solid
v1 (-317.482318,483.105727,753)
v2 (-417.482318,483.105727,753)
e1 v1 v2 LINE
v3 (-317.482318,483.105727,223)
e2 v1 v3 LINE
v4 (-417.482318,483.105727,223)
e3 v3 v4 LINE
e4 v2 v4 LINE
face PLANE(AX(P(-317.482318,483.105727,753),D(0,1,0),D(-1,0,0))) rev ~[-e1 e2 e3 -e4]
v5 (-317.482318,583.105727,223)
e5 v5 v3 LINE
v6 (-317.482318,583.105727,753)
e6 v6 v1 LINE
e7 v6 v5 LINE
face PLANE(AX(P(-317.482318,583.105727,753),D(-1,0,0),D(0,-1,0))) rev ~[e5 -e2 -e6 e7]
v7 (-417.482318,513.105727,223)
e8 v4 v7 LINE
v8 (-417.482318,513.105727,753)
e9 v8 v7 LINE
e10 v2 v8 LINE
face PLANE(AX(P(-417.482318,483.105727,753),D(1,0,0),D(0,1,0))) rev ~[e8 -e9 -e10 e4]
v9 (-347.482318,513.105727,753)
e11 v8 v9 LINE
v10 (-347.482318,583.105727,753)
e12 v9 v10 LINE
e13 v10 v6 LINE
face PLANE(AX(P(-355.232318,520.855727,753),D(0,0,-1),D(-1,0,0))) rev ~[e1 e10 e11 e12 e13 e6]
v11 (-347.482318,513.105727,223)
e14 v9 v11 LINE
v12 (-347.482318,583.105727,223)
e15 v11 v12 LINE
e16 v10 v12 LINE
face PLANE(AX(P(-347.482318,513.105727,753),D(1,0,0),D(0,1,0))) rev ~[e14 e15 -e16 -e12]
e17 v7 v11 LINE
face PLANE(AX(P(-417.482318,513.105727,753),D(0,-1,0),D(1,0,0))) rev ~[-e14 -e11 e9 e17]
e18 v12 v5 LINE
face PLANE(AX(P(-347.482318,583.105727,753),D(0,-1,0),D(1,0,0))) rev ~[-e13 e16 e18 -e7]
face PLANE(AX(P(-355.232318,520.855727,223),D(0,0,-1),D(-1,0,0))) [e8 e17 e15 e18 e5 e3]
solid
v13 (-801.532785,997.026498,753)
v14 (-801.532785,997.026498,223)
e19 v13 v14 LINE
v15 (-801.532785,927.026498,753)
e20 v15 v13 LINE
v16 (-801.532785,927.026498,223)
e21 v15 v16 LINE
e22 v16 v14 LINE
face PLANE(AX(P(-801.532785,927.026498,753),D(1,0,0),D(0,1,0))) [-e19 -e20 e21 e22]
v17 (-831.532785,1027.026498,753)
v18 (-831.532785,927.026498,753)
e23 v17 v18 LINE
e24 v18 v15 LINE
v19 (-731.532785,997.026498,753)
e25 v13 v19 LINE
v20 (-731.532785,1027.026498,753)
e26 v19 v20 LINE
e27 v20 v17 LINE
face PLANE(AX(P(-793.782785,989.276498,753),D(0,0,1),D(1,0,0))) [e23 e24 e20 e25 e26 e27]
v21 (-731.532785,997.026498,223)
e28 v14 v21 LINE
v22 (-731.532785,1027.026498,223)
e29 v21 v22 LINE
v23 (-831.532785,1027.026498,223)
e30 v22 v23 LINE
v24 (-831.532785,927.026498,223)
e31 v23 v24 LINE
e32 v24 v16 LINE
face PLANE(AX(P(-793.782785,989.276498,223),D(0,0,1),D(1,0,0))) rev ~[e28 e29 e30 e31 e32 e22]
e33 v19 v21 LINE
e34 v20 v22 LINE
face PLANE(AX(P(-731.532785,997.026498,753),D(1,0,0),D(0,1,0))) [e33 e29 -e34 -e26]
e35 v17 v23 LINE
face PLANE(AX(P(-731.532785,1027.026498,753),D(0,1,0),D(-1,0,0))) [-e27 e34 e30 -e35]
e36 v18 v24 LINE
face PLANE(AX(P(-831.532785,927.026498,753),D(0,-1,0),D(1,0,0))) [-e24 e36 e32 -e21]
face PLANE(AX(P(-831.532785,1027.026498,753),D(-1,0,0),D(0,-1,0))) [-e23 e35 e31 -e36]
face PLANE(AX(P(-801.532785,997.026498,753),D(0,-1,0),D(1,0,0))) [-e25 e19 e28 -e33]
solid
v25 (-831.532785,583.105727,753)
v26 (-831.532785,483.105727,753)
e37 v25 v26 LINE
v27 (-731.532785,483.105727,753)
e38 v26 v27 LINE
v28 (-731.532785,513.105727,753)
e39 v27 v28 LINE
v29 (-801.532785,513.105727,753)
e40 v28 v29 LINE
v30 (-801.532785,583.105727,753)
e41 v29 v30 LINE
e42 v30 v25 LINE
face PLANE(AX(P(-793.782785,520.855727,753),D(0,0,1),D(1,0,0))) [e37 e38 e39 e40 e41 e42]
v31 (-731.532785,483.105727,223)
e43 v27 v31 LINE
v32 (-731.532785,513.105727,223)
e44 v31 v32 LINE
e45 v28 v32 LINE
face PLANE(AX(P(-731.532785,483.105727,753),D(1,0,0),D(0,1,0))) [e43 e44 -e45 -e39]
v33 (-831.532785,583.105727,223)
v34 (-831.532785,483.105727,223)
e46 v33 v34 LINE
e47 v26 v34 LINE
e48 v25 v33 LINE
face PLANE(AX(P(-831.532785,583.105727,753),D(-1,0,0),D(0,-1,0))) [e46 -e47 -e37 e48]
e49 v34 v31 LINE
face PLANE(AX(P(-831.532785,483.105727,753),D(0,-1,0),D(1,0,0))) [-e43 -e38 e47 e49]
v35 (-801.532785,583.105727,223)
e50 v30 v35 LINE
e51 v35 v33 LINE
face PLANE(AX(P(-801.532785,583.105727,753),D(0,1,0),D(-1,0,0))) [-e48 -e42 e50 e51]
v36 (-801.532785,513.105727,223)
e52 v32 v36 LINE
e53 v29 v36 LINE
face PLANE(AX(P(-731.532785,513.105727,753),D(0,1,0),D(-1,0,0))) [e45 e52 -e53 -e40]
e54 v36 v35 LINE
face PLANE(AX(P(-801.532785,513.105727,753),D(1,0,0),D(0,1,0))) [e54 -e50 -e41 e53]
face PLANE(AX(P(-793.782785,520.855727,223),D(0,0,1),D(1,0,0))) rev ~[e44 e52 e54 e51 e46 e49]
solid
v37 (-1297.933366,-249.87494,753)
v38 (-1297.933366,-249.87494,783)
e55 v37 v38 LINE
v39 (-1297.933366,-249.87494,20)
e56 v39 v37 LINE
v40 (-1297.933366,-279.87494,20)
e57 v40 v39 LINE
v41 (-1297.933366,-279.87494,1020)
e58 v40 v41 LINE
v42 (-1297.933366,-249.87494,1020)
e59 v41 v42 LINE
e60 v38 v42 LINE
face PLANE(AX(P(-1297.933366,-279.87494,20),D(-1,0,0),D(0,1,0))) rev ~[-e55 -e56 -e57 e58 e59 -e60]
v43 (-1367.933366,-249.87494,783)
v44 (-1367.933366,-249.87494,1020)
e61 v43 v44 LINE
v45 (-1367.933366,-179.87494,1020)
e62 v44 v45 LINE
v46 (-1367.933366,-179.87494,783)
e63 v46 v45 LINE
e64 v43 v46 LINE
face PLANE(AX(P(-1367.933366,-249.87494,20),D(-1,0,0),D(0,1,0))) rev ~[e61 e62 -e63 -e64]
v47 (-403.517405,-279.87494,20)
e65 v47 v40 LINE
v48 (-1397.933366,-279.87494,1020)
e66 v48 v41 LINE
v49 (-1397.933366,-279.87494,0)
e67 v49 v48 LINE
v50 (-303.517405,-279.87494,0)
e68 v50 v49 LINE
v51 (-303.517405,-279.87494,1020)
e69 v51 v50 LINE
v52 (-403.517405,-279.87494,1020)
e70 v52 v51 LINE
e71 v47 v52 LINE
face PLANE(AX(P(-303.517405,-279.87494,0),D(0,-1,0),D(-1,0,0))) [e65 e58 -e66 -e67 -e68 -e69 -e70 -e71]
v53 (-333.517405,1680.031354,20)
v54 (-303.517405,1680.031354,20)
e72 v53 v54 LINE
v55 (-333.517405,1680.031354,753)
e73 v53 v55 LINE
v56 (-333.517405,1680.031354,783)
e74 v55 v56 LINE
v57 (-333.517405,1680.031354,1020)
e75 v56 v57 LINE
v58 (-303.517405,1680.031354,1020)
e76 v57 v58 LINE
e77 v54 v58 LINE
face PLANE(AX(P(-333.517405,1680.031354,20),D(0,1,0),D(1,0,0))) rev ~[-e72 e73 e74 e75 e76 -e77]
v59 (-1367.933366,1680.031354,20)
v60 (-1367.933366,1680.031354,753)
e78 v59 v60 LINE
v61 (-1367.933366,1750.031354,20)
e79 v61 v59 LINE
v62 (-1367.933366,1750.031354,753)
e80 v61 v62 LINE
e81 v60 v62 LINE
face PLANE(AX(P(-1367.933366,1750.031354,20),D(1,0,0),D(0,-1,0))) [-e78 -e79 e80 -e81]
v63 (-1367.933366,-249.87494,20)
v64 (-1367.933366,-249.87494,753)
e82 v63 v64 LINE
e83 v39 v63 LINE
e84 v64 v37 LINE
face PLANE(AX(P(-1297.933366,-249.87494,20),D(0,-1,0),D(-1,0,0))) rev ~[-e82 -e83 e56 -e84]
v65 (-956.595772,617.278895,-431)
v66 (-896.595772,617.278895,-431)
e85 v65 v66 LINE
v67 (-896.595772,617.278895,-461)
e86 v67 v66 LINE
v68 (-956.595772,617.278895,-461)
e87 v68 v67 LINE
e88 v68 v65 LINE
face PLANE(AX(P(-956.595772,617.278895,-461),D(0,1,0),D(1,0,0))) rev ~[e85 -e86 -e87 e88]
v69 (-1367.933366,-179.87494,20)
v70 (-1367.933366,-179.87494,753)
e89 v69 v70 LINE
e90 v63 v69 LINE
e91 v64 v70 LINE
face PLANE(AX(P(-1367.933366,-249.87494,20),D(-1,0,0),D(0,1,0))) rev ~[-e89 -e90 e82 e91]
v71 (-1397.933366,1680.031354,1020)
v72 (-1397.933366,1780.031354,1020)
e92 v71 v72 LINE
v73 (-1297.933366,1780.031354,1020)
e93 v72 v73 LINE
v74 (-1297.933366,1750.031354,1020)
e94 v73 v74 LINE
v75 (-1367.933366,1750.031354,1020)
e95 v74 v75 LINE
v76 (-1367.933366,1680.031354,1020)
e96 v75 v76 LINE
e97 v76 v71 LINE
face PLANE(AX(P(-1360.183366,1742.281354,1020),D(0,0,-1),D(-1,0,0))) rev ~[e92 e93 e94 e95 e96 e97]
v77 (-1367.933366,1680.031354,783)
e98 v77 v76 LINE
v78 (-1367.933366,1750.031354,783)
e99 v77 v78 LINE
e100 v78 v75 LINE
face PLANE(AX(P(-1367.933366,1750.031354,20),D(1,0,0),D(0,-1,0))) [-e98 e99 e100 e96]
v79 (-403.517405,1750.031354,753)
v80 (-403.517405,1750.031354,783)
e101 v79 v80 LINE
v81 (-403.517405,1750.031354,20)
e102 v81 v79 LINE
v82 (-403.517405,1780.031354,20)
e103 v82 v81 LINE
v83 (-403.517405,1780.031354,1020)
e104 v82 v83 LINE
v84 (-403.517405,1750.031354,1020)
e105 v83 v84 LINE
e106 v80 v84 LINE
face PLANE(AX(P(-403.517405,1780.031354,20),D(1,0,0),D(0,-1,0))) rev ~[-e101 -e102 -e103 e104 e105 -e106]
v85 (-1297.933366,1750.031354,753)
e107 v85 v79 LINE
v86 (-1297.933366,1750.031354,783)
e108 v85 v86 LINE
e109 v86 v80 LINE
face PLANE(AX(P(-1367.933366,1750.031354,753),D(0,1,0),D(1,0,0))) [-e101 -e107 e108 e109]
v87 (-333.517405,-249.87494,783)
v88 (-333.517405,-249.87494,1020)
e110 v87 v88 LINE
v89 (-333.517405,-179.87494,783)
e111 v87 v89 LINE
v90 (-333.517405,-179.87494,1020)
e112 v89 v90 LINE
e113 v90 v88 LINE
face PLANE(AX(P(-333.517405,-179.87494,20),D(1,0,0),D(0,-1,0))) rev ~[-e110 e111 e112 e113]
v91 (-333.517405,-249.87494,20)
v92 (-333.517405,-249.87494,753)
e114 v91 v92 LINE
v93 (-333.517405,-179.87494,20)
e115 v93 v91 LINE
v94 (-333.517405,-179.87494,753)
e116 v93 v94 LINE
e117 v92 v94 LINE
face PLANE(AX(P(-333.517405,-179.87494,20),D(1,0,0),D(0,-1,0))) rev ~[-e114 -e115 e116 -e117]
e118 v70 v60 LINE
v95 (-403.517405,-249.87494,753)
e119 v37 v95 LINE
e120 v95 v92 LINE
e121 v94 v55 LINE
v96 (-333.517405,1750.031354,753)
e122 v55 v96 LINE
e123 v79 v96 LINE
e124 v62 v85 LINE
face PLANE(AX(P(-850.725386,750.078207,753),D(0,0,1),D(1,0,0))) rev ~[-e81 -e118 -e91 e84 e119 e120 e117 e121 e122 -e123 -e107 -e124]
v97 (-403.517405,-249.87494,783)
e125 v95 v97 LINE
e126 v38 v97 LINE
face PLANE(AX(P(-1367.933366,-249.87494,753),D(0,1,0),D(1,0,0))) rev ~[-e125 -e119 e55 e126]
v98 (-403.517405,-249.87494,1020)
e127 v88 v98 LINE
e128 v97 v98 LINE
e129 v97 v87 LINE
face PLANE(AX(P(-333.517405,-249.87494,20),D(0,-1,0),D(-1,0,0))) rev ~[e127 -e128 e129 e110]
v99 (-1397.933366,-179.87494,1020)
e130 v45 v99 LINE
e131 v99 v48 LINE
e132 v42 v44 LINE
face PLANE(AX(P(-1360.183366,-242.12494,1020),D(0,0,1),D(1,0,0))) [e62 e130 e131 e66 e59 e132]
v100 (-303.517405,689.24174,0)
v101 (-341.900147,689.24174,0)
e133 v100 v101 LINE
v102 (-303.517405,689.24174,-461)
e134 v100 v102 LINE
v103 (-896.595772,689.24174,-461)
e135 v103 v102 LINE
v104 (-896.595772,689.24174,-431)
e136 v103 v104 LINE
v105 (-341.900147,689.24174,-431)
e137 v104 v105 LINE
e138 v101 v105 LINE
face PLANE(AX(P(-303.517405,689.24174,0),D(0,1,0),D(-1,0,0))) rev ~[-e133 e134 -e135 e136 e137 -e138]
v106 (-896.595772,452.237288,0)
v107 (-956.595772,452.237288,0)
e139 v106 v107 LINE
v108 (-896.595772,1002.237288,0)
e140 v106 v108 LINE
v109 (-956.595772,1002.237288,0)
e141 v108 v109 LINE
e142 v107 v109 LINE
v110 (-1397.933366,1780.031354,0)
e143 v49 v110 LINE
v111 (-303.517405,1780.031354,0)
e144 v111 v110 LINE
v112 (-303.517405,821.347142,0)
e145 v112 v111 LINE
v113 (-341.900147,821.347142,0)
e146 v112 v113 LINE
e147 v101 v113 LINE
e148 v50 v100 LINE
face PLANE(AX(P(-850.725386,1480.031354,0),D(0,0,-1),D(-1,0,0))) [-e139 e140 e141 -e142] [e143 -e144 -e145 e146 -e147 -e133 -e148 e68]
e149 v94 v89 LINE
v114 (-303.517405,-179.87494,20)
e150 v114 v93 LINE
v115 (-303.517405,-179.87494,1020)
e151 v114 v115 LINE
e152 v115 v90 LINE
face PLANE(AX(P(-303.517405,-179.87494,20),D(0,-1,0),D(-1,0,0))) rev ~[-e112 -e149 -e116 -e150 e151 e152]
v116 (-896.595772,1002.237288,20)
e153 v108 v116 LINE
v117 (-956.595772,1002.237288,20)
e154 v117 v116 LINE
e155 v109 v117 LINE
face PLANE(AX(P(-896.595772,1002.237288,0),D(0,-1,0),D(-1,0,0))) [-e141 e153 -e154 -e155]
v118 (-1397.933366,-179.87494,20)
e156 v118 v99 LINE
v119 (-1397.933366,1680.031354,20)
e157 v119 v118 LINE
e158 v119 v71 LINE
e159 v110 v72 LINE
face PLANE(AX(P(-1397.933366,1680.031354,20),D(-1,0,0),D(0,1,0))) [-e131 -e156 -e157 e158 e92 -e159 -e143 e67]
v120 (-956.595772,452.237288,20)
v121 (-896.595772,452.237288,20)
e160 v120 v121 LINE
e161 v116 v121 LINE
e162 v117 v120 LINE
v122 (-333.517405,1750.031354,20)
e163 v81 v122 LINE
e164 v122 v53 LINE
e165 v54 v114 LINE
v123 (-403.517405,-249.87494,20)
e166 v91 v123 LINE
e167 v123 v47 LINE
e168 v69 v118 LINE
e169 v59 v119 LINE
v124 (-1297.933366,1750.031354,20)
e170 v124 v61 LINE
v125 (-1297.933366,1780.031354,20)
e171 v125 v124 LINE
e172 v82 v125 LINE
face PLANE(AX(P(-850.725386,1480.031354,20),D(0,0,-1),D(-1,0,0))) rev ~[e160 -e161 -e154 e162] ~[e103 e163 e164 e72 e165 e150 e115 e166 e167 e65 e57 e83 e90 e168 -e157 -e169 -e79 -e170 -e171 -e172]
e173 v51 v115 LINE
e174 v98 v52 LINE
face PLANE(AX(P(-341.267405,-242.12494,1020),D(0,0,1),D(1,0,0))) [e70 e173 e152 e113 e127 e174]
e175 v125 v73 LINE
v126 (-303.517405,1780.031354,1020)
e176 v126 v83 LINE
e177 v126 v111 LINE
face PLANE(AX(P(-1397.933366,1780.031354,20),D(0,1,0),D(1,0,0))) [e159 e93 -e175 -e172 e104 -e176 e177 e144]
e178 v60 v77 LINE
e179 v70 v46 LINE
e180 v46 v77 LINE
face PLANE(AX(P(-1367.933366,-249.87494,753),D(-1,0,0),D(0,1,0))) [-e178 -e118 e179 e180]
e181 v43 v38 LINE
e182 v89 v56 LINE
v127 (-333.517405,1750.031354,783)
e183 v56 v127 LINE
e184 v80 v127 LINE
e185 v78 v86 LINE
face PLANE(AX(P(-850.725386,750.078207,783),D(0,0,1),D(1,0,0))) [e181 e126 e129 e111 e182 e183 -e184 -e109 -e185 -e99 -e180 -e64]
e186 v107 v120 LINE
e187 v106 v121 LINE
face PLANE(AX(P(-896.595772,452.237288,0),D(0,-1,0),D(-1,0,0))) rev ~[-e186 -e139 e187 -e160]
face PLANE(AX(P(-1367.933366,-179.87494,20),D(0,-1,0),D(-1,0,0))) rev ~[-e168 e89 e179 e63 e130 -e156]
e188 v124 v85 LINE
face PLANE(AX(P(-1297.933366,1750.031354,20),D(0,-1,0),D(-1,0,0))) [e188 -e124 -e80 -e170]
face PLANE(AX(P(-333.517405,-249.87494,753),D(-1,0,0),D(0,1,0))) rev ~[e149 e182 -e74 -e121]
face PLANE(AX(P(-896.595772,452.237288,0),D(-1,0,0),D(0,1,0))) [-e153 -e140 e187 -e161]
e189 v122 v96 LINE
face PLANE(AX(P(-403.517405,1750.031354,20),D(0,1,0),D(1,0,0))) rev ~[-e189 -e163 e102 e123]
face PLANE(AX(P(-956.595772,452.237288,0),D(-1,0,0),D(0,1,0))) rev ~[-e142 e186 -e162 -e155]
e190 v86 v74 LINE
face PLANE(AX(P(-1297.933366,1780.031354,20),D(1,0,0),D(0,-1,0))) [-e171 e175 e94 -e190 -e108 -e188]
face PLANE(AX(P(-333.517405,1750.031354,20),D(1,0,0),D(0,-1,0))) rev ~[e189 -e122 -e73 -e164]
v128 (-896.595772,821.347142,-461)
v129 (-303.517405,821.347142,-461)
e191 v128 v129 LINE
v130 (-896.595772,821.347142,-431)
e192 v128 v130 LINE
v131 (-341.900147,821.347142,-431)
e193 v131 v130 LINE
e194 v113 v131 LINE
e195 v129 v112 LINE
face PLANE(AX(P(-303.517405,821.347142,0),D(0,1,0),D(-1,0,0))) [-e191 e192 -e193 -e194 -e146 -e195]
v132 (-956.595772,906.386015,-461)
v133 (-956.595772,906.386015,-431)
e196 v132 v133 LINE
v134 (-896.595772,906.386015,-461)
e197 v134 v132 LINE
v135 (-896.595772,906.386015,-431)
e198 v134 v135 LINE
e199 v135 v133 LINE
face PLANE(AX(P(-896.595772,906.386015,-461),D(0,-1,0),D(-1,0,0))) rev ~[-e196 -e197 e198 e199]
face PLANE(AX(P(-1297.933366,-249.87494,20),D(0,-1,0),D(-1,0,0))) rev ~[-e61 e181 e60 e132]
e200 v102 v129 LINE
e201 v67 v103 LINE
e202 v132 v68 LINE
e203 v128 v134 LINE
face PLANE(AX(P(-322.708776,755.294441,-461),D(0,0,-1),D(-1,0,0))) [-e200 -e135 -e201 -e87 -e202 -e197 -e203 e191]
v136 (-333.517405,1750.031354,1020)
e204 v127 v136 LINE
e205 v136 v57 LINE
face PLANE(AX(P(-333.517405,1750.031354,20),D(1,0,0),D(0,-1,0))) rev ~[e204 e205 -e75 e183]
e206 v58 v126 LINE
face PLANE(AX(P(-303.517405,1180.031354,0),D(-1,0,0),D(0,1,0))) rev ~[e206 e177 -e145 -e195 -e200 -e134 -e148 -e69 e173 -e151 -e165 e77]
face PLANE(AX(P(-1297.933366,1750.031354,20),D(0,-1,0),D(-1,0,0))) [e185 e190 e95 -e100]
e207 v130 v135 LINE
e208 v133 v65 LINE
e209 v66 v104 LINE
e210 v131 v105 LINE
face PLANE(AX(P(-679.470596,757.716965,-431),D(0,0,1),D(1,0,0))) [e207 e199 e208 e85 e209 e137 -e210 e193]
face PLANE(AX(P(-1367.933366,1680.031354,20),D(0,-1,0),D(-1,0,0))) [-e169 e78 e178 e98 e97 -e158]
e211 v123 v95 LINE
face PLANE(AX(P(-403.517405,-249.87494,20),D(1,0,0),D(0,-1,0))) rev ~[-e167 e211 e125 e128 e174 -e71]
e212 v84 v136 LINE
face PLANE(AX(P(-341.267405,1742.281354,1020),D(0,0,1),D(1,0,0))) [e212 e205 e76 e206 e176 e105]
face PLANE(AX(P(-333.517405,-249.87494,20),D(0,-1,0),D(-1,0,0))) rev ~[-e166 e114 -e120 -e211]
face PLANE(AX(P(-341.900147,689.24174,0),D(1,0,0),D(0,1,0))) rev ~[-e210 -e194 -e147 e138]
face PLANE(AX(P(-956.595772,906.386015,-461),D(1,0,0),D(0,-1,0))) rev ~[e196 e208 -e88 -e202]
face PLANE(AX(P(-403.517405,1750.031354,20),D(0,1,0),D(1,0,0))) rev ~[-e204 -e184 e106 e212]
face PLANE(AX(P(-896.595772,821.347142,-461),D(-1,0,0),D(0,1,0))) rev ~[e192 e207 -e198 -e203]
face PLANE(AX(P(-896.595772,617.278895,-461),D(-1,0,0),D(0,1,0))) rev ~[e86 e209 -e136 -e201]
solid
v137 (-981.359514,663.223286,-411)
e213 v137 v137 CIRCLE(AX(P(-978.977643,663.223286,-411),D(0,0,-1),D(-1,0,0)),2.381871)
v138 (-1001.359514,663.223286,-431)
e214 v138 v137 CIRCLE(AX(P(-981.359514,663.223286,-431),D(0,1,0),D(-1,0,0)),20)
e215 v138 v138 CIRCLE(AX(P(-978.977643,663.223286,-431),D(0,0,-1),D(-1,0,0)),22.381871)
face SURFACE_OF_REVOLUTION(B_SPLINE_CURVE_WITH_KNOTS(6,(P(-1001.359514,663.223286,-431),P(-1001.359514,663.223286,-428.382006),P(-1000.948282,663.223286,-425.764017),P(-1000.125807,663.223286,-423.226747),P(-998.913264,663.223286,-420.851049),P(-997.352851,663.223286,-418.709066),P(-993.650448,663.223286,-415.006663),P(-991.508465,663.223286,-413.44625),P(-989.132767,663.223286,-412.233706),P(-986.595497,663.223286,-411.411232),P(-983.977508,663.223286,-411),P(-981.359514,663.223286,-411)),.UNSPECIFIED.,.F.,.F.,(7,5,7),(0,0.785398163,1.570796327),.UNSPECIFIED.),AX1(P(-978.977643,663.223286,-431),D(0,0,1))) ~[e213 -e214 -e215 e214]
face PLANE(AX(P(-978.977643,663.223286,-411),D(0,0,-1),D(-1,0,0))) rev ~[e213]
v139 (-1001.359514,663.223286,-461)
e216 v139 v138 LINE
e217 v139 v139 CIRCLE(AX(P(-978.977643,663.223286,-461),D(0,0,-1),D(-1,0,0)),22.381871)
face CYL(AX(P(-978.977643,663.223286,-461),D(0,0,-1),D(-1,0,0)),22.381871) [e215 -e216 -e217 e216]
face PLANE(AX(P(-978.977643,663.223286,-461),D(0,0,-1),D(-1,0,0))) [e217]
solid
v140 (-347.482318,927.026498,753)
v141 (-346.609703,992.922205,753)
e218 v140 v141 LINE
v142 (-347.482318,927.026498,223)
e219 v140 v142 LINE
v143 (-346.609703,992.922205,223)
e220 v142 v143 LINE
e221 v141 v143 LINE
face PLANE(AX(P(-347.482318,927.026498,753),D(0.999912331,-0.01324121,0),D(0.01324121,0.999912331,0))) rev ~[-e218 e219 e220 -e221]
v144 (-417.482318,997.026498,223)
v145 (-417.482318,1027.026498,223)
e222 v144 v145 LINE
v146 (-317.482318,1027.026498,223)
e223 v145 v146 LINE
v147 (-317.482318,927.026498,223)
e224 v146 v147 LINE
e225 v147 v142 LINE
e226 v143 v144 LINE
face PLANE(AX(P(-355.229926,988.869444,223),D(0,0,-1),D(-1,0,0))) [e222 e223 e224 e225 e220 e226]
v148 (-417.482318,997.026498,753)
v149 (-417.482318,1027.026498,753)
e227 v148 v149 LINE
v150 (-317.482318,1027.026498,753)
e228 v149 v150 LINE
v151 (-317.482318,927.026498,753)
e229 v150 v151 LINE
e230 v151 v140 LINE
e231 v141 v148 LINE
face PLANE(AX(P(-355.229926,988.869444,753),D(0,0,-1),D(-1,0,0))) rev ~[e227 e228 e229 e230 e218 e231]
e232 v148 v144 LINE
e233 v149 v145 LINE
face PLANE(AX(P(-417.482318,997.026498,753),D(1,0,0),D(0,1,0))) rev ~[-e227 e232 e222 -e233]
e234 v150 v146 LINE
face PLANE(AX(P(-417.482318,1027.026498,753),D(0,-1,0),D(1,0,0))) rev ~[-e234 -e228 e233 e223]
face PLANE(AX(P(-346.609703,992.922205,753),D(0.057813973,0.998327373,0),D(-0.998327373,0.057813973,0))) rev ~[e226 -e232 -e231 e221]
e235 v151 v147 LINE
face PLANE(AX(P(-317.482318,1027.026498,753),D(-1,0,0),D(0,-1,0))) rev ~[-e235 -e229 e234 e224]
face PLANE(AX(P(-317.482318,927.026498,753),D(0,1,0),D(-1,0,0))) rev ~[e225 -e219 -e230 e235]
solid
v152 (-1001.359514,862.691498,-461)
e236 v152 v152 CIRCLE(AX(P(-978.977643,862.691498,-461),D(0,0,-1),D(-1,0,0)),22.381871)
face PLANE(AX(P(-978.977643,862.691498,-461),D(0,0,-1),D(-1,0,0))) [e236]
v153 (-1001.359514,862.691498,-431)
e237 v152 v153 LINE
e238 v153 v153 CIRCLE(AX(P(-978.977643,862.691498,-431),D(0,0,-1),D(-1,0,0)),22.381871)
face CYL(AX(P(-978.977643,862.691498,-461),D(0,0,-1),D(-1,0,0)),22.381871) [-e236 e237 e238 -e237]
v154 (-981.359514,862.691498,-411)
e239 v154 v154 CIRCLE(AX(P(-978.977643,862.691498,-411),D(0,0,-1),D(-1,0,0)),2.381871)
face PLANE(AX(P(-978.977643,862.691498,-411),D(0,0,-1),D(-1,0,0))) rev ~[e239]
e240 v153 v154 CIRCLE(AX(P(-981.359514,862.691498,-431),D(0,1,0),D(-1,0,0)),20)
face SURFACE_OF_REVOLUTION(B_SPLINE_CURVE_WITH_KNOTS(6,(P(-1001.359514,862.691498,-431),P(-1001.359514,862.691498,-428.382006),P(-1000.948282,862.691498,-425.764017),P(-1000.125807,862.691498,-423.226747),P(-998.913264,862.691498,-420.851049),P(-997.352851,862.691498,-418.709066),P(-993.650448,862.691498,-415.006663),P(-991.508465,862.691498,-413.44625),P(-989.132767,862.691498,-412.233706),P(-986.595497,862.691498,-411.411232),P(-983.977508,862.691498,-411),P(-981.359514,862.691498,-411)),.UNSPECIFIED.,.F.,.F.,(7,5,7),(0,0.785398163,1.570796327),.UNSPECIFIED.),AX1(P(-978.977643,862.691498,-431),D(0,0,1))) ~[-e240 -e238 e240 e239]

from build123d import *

# Parameters (mm, degrees)
SKETCH1_W             = 1500
SKETCH1_H             = 1500
BOSS_EXTRUDE1_DEPTH   = 20
SKETCH2_W             = 60
SKETCH2_H             = 550
CUT_EXTRUDE1_DEPTH    = 50
CUT_EXTRUDE2_DEPTH    = 2000.909849413
SKETCH4_W             = 1094.415961308
SKETCH4_H             = 600
BOSS_EXTRUDE2_DEPTH   = 20
BOSS_EXTRUDE3_DEPTH   = 1000
SKETCH6_W             = 1034.415961308
SKETCH6_H             = 1999.906293538
BOSS_EXTRUDE4_DEPTH   = 30
BOSS_EXTRUDE5_DEPTH   = 530
BOSS_EXTRUDE5_2_DEPTH = 530
BOSS_EXTRUDE5_3_DEPTH = 530
BOSS_EXTRUDE5_4_DEPTH = 530
SKETCH9_W             = 38.38274209
SKETCH9_H             = 132.105402432
BOSS_EXTRUDE6_DEPTH   = 461
BOSS_EXTRUDE7_DEPTH   = 30
SKETCH11_R            = 22.381871054
BOSS_EXTRUDE8_DEPTH   = 50
BOSS_EXTRUDE8_2_DEPTH = 50
FILLET1_R             = 20
FILLET2_R             = 20


with BuildPart() as part:
    # Sketch1 → Boss-Extrude1 (new body)
    with BuildSketch(Plane.XY):
        with Locations((-647.933366328, 680.042554992)):
            Rectangle(SKETCH1_W, SKETCH1_H)
    extrude(amount=BOSS_EXTRUDE1_DEPTH)

    # Sketch2 → Cut-Extrude1 (cut)
    with BuildSketch(Plane(origin=(0, 0, 0), x_dir=(-1, 0, 0), z_dir=(0, 0, -1))):
        with Locations((926.595771641, 727.237288333)):
            Rectangle(SKETCH2_W, SKETCH2_H)
    extrude(amount=-CUT_EXTRUDE1_DEPTH, mode=Mode.SUBTRACT)

    # Sketch3 → Cut-Extrude2 (cut, through all)
    with BuildSketch(Plane.XY.offset(20)):
        Polygon((-1397.933366328, 1180.031353787), (-303.51740502, 1180.031353787), (-303.51740502, 320.125060249), (-1397.933366328, 320.125060249), (-2007.945142602, 196.828102761), (-1938.57438465, -209.936796138), (-1019.34429441, -263.492739842), (191.211340308, -395.978442354), (1017.298661853, -131.007037329), (397.03562433, 795.178187448), (264.742348401, 1570.89785085), (-1070.217072335, 1498.737882161), (-1589.868105208, 1438.824408359), (-1644.490156481, 1252.191322475), align=None)
    extrude(amount=-CUT_EXTRUDE2_DEPTH, mode=Mode.SUBTRACT)

    # Sketch4 → Boss-Extrude2 (add)
    with BuildSketch(Plane(origin=(0, 0, 0), x_dir=(-1, 0, 0), z_dir=(0, 0, -1))):
        with Locations((850.725385674, 1480.031353787)):
            Rectangle(SKETCH4_W, SKETCH4_H)
        with Locations((850.725385674, 20.125060249)):
            Rectangle(SKETCH4_W, SKETCH4_H)
    extrude(amount=-BOSS_EXTRUDE2_DEPTH)

    # Sketch5 → Boss-Extrude3 (add)
    with BuildSketch(Plane.XY.offset(20)):
        Polygon((-1397.933366328, 1780.031353787), (-1297.933366328, 1780.031353787), (-1297.933366328, 1750.031353787), (-1367.933366328, 1750.031353787), (-1367.933366328, 1680.031353787), (-1397.933366328, 1680.031353787), align=None)
        Polygon((-303.51740502, 1780.031353787), (-403.51740502, 1780.031353787), (-403.51740502, 1750.031353787), (-333.51740502, 1750.031353787), (-333.51740502, 1680.031353787), (-303.51740502, 1680.031353787), align=None)
        Polygon((-1397.933366328, -179.874939751), (-1397.933366328, -279.874939751), (-1297.933366328, -279.874939751), (-1297.933366328, -249.874939751), (-1367.933366328, -249.874939751), (-1367.933366328, -179.874939751), align=None)
        Polygon((-303.51740502, -279.874939751), (-303.51740502, -179.874939751), (-333.51740502, -179.874939751), (-333.51740502, -249.874939751), (-403.51740502, -249.874939751), (-403.51740502, -279.874939751), align=None)
    extrude(amount=BOSS_EXTRUDE3_DEPTH)

    # Sketch6 → Boss-Extrude4 (add)
    with BuildSketch(Plane.XY.offset(753)):
        with Locations((-850.725385674, 750.078207018)):
            Rectangle(SKETCH6_W, SKETCH6_H)
    extrude(amount=BOSS_EXTRUDE4_DEPTH)

    # Sketch9 → Boss-Extrude6 (add)
    with BuildSketch(Plane(origin=(0, 0, 0), x_dir=(-1, 0, 0), z_dir=(0, 0, -1))):
        with Locations((322.708776065, 755.294441101)):
            Rectangle(SKETCH9_W, SKETCH9_H)
    extrude(amount=BOSS_EXTRUDE6_DEPTH)

    # Sketch10 → Boss-Extrude7 (add)
    with BuildSketch(Plane(origin=(0, 0, -461), x_dir=(-1, 0, 0), z_dir=(0, 0, -1))):
        Polygon((303.51740502, 821.347142317), (896.595771641, 821.347142317), (896.595771641, 906.386015183), (956.595771641, 906.386015183), (956.595771641, 617.278895192), (896.595771641, 617.278895192), (896.595771641, 689.241739885), (303.51740502, 689.241739885), align=None)
    extrude(amount=-BOSS_EXTRUDE7_DEPTH)


with BuildPart() as body_2:
    # Sketch8 → Boss-Extrude5 (new body)
    with BuildSketch(Plane(origin=(0, 0, 753), x_dir=(-1, 0, 0), z_dir=(0, 0, -1))):
        Polygon((346.609702996, 992.92220544), (417.482318412, 997.02649787), (417.482318412, 1027.02649787), (317.482318412, 1027.02649787), (317.482318412, 927.02649787), (347.482318412, 927.02649787), align=None)
    extrude(amount=BOSS_EXTRUDE5_DEPTH)


with BuildPart() as body_3:
    # Sketch8 → Boss-Extrude5 2 (new body)
    with BuildSketch(Plane(origin=(0, 0, 753), x_dir=(-1, 0, 0), z_dir=(0, 0, -1))):
        Polygon((731.532784981, 997.02649787), (731.532784981, 1027.02649787), (831.532784981, 1027.02649787), (831.532784981, 927.02649787), (801.532784981, 927.02649787), (801.532784981, 997.02649787), align=None)
    extrude(amount=BOSS_EXTRUDE5_2_DEPTH)


with BuildPart() as body_4:
    # Sketch8 → Boss-Extrude5 3 (new body)
    with BuildSketch(Plane(origin=(0, 0, 753), x_dir=(-1, 0, 0), z_dir=(0, 0, -1))):
        Polygon((801.532784981, 583.10572659), (831.532784981, 583.10572659), (831.532784981, 483.10572659), (731.532784981, 483.10572659), (731.532784981, 513.10572659), (801.532784981, 513.10572659), align=None)
    extrude(amount=BOSS_EXTRUDE5_3_DEPTH)


with BuildPart() as body_5:
    # Sketch8 → Boss-Extrude5 4 (new body)
    with BuildSketch(Plane(origin=(0, 0, 753), x_dir=(-1, 0, 0), z_dir=(0, 0, -1))):
        Polygon((347.482318412, 513.10572659), (347.482318412, 583.10572659), (317.482318412, 583.10572659), (317.482318412, 483.10572659), (417.482318412, 483.10572659), (417.482318412, 513.10572659), align=None)
    extrude(amount=BOSS_EXTRUDE5_4_DEPTH)


with BuildPart() as body_6:
    # Sketch11 → Boss-Extrude8 (new body)
    with BuildSketch(Plane(origin=(0, 0, -461), x_dir=(-1, 0, 0), z_dir=(0, 0, -1))):
        with Locations((978.977642694, 862.69149813)):
            Circle(SKETCH11_R)
    extrude(amount=-BOSS_EXTRUDE8_DEPTH)

    # Fillet1
    fillet1_edges = [body_6.edges().sort_by_distance(p)[0] for p in [
        (-956.595771641, 862.69149813, -411),
    ]]
    fillet(fillet1_edges, radius=FILLET1_R)


with BuildPart() as body_7:
    # Sketch11 → Boss-Extrude8 2 (new body)
    with BuildSketch(Plane(origin=(0, 0, -461), x_dir=(-1, 0, 0), z_dir=(0, 0, -1))):
        with Locations((978.977642694, 663.223285972)):
            Circle(SKETCH11_R)
    extrude(amount=-BOSS_EXTRUDE8_2_DEPTH)

    # Fillet2
    fillet2_edges = [body_7.edges().sort_by_distance(p)[0] for p in [
        (-956.595771641, 663.223285972, -411),
    ]]
    fillet(fillet2_edges, radius=FILLET2_R)


solid = Compound([part.part, body_2.part, body_3.part, body_4.part, body_5.part, body_6.part, body_7.part])
